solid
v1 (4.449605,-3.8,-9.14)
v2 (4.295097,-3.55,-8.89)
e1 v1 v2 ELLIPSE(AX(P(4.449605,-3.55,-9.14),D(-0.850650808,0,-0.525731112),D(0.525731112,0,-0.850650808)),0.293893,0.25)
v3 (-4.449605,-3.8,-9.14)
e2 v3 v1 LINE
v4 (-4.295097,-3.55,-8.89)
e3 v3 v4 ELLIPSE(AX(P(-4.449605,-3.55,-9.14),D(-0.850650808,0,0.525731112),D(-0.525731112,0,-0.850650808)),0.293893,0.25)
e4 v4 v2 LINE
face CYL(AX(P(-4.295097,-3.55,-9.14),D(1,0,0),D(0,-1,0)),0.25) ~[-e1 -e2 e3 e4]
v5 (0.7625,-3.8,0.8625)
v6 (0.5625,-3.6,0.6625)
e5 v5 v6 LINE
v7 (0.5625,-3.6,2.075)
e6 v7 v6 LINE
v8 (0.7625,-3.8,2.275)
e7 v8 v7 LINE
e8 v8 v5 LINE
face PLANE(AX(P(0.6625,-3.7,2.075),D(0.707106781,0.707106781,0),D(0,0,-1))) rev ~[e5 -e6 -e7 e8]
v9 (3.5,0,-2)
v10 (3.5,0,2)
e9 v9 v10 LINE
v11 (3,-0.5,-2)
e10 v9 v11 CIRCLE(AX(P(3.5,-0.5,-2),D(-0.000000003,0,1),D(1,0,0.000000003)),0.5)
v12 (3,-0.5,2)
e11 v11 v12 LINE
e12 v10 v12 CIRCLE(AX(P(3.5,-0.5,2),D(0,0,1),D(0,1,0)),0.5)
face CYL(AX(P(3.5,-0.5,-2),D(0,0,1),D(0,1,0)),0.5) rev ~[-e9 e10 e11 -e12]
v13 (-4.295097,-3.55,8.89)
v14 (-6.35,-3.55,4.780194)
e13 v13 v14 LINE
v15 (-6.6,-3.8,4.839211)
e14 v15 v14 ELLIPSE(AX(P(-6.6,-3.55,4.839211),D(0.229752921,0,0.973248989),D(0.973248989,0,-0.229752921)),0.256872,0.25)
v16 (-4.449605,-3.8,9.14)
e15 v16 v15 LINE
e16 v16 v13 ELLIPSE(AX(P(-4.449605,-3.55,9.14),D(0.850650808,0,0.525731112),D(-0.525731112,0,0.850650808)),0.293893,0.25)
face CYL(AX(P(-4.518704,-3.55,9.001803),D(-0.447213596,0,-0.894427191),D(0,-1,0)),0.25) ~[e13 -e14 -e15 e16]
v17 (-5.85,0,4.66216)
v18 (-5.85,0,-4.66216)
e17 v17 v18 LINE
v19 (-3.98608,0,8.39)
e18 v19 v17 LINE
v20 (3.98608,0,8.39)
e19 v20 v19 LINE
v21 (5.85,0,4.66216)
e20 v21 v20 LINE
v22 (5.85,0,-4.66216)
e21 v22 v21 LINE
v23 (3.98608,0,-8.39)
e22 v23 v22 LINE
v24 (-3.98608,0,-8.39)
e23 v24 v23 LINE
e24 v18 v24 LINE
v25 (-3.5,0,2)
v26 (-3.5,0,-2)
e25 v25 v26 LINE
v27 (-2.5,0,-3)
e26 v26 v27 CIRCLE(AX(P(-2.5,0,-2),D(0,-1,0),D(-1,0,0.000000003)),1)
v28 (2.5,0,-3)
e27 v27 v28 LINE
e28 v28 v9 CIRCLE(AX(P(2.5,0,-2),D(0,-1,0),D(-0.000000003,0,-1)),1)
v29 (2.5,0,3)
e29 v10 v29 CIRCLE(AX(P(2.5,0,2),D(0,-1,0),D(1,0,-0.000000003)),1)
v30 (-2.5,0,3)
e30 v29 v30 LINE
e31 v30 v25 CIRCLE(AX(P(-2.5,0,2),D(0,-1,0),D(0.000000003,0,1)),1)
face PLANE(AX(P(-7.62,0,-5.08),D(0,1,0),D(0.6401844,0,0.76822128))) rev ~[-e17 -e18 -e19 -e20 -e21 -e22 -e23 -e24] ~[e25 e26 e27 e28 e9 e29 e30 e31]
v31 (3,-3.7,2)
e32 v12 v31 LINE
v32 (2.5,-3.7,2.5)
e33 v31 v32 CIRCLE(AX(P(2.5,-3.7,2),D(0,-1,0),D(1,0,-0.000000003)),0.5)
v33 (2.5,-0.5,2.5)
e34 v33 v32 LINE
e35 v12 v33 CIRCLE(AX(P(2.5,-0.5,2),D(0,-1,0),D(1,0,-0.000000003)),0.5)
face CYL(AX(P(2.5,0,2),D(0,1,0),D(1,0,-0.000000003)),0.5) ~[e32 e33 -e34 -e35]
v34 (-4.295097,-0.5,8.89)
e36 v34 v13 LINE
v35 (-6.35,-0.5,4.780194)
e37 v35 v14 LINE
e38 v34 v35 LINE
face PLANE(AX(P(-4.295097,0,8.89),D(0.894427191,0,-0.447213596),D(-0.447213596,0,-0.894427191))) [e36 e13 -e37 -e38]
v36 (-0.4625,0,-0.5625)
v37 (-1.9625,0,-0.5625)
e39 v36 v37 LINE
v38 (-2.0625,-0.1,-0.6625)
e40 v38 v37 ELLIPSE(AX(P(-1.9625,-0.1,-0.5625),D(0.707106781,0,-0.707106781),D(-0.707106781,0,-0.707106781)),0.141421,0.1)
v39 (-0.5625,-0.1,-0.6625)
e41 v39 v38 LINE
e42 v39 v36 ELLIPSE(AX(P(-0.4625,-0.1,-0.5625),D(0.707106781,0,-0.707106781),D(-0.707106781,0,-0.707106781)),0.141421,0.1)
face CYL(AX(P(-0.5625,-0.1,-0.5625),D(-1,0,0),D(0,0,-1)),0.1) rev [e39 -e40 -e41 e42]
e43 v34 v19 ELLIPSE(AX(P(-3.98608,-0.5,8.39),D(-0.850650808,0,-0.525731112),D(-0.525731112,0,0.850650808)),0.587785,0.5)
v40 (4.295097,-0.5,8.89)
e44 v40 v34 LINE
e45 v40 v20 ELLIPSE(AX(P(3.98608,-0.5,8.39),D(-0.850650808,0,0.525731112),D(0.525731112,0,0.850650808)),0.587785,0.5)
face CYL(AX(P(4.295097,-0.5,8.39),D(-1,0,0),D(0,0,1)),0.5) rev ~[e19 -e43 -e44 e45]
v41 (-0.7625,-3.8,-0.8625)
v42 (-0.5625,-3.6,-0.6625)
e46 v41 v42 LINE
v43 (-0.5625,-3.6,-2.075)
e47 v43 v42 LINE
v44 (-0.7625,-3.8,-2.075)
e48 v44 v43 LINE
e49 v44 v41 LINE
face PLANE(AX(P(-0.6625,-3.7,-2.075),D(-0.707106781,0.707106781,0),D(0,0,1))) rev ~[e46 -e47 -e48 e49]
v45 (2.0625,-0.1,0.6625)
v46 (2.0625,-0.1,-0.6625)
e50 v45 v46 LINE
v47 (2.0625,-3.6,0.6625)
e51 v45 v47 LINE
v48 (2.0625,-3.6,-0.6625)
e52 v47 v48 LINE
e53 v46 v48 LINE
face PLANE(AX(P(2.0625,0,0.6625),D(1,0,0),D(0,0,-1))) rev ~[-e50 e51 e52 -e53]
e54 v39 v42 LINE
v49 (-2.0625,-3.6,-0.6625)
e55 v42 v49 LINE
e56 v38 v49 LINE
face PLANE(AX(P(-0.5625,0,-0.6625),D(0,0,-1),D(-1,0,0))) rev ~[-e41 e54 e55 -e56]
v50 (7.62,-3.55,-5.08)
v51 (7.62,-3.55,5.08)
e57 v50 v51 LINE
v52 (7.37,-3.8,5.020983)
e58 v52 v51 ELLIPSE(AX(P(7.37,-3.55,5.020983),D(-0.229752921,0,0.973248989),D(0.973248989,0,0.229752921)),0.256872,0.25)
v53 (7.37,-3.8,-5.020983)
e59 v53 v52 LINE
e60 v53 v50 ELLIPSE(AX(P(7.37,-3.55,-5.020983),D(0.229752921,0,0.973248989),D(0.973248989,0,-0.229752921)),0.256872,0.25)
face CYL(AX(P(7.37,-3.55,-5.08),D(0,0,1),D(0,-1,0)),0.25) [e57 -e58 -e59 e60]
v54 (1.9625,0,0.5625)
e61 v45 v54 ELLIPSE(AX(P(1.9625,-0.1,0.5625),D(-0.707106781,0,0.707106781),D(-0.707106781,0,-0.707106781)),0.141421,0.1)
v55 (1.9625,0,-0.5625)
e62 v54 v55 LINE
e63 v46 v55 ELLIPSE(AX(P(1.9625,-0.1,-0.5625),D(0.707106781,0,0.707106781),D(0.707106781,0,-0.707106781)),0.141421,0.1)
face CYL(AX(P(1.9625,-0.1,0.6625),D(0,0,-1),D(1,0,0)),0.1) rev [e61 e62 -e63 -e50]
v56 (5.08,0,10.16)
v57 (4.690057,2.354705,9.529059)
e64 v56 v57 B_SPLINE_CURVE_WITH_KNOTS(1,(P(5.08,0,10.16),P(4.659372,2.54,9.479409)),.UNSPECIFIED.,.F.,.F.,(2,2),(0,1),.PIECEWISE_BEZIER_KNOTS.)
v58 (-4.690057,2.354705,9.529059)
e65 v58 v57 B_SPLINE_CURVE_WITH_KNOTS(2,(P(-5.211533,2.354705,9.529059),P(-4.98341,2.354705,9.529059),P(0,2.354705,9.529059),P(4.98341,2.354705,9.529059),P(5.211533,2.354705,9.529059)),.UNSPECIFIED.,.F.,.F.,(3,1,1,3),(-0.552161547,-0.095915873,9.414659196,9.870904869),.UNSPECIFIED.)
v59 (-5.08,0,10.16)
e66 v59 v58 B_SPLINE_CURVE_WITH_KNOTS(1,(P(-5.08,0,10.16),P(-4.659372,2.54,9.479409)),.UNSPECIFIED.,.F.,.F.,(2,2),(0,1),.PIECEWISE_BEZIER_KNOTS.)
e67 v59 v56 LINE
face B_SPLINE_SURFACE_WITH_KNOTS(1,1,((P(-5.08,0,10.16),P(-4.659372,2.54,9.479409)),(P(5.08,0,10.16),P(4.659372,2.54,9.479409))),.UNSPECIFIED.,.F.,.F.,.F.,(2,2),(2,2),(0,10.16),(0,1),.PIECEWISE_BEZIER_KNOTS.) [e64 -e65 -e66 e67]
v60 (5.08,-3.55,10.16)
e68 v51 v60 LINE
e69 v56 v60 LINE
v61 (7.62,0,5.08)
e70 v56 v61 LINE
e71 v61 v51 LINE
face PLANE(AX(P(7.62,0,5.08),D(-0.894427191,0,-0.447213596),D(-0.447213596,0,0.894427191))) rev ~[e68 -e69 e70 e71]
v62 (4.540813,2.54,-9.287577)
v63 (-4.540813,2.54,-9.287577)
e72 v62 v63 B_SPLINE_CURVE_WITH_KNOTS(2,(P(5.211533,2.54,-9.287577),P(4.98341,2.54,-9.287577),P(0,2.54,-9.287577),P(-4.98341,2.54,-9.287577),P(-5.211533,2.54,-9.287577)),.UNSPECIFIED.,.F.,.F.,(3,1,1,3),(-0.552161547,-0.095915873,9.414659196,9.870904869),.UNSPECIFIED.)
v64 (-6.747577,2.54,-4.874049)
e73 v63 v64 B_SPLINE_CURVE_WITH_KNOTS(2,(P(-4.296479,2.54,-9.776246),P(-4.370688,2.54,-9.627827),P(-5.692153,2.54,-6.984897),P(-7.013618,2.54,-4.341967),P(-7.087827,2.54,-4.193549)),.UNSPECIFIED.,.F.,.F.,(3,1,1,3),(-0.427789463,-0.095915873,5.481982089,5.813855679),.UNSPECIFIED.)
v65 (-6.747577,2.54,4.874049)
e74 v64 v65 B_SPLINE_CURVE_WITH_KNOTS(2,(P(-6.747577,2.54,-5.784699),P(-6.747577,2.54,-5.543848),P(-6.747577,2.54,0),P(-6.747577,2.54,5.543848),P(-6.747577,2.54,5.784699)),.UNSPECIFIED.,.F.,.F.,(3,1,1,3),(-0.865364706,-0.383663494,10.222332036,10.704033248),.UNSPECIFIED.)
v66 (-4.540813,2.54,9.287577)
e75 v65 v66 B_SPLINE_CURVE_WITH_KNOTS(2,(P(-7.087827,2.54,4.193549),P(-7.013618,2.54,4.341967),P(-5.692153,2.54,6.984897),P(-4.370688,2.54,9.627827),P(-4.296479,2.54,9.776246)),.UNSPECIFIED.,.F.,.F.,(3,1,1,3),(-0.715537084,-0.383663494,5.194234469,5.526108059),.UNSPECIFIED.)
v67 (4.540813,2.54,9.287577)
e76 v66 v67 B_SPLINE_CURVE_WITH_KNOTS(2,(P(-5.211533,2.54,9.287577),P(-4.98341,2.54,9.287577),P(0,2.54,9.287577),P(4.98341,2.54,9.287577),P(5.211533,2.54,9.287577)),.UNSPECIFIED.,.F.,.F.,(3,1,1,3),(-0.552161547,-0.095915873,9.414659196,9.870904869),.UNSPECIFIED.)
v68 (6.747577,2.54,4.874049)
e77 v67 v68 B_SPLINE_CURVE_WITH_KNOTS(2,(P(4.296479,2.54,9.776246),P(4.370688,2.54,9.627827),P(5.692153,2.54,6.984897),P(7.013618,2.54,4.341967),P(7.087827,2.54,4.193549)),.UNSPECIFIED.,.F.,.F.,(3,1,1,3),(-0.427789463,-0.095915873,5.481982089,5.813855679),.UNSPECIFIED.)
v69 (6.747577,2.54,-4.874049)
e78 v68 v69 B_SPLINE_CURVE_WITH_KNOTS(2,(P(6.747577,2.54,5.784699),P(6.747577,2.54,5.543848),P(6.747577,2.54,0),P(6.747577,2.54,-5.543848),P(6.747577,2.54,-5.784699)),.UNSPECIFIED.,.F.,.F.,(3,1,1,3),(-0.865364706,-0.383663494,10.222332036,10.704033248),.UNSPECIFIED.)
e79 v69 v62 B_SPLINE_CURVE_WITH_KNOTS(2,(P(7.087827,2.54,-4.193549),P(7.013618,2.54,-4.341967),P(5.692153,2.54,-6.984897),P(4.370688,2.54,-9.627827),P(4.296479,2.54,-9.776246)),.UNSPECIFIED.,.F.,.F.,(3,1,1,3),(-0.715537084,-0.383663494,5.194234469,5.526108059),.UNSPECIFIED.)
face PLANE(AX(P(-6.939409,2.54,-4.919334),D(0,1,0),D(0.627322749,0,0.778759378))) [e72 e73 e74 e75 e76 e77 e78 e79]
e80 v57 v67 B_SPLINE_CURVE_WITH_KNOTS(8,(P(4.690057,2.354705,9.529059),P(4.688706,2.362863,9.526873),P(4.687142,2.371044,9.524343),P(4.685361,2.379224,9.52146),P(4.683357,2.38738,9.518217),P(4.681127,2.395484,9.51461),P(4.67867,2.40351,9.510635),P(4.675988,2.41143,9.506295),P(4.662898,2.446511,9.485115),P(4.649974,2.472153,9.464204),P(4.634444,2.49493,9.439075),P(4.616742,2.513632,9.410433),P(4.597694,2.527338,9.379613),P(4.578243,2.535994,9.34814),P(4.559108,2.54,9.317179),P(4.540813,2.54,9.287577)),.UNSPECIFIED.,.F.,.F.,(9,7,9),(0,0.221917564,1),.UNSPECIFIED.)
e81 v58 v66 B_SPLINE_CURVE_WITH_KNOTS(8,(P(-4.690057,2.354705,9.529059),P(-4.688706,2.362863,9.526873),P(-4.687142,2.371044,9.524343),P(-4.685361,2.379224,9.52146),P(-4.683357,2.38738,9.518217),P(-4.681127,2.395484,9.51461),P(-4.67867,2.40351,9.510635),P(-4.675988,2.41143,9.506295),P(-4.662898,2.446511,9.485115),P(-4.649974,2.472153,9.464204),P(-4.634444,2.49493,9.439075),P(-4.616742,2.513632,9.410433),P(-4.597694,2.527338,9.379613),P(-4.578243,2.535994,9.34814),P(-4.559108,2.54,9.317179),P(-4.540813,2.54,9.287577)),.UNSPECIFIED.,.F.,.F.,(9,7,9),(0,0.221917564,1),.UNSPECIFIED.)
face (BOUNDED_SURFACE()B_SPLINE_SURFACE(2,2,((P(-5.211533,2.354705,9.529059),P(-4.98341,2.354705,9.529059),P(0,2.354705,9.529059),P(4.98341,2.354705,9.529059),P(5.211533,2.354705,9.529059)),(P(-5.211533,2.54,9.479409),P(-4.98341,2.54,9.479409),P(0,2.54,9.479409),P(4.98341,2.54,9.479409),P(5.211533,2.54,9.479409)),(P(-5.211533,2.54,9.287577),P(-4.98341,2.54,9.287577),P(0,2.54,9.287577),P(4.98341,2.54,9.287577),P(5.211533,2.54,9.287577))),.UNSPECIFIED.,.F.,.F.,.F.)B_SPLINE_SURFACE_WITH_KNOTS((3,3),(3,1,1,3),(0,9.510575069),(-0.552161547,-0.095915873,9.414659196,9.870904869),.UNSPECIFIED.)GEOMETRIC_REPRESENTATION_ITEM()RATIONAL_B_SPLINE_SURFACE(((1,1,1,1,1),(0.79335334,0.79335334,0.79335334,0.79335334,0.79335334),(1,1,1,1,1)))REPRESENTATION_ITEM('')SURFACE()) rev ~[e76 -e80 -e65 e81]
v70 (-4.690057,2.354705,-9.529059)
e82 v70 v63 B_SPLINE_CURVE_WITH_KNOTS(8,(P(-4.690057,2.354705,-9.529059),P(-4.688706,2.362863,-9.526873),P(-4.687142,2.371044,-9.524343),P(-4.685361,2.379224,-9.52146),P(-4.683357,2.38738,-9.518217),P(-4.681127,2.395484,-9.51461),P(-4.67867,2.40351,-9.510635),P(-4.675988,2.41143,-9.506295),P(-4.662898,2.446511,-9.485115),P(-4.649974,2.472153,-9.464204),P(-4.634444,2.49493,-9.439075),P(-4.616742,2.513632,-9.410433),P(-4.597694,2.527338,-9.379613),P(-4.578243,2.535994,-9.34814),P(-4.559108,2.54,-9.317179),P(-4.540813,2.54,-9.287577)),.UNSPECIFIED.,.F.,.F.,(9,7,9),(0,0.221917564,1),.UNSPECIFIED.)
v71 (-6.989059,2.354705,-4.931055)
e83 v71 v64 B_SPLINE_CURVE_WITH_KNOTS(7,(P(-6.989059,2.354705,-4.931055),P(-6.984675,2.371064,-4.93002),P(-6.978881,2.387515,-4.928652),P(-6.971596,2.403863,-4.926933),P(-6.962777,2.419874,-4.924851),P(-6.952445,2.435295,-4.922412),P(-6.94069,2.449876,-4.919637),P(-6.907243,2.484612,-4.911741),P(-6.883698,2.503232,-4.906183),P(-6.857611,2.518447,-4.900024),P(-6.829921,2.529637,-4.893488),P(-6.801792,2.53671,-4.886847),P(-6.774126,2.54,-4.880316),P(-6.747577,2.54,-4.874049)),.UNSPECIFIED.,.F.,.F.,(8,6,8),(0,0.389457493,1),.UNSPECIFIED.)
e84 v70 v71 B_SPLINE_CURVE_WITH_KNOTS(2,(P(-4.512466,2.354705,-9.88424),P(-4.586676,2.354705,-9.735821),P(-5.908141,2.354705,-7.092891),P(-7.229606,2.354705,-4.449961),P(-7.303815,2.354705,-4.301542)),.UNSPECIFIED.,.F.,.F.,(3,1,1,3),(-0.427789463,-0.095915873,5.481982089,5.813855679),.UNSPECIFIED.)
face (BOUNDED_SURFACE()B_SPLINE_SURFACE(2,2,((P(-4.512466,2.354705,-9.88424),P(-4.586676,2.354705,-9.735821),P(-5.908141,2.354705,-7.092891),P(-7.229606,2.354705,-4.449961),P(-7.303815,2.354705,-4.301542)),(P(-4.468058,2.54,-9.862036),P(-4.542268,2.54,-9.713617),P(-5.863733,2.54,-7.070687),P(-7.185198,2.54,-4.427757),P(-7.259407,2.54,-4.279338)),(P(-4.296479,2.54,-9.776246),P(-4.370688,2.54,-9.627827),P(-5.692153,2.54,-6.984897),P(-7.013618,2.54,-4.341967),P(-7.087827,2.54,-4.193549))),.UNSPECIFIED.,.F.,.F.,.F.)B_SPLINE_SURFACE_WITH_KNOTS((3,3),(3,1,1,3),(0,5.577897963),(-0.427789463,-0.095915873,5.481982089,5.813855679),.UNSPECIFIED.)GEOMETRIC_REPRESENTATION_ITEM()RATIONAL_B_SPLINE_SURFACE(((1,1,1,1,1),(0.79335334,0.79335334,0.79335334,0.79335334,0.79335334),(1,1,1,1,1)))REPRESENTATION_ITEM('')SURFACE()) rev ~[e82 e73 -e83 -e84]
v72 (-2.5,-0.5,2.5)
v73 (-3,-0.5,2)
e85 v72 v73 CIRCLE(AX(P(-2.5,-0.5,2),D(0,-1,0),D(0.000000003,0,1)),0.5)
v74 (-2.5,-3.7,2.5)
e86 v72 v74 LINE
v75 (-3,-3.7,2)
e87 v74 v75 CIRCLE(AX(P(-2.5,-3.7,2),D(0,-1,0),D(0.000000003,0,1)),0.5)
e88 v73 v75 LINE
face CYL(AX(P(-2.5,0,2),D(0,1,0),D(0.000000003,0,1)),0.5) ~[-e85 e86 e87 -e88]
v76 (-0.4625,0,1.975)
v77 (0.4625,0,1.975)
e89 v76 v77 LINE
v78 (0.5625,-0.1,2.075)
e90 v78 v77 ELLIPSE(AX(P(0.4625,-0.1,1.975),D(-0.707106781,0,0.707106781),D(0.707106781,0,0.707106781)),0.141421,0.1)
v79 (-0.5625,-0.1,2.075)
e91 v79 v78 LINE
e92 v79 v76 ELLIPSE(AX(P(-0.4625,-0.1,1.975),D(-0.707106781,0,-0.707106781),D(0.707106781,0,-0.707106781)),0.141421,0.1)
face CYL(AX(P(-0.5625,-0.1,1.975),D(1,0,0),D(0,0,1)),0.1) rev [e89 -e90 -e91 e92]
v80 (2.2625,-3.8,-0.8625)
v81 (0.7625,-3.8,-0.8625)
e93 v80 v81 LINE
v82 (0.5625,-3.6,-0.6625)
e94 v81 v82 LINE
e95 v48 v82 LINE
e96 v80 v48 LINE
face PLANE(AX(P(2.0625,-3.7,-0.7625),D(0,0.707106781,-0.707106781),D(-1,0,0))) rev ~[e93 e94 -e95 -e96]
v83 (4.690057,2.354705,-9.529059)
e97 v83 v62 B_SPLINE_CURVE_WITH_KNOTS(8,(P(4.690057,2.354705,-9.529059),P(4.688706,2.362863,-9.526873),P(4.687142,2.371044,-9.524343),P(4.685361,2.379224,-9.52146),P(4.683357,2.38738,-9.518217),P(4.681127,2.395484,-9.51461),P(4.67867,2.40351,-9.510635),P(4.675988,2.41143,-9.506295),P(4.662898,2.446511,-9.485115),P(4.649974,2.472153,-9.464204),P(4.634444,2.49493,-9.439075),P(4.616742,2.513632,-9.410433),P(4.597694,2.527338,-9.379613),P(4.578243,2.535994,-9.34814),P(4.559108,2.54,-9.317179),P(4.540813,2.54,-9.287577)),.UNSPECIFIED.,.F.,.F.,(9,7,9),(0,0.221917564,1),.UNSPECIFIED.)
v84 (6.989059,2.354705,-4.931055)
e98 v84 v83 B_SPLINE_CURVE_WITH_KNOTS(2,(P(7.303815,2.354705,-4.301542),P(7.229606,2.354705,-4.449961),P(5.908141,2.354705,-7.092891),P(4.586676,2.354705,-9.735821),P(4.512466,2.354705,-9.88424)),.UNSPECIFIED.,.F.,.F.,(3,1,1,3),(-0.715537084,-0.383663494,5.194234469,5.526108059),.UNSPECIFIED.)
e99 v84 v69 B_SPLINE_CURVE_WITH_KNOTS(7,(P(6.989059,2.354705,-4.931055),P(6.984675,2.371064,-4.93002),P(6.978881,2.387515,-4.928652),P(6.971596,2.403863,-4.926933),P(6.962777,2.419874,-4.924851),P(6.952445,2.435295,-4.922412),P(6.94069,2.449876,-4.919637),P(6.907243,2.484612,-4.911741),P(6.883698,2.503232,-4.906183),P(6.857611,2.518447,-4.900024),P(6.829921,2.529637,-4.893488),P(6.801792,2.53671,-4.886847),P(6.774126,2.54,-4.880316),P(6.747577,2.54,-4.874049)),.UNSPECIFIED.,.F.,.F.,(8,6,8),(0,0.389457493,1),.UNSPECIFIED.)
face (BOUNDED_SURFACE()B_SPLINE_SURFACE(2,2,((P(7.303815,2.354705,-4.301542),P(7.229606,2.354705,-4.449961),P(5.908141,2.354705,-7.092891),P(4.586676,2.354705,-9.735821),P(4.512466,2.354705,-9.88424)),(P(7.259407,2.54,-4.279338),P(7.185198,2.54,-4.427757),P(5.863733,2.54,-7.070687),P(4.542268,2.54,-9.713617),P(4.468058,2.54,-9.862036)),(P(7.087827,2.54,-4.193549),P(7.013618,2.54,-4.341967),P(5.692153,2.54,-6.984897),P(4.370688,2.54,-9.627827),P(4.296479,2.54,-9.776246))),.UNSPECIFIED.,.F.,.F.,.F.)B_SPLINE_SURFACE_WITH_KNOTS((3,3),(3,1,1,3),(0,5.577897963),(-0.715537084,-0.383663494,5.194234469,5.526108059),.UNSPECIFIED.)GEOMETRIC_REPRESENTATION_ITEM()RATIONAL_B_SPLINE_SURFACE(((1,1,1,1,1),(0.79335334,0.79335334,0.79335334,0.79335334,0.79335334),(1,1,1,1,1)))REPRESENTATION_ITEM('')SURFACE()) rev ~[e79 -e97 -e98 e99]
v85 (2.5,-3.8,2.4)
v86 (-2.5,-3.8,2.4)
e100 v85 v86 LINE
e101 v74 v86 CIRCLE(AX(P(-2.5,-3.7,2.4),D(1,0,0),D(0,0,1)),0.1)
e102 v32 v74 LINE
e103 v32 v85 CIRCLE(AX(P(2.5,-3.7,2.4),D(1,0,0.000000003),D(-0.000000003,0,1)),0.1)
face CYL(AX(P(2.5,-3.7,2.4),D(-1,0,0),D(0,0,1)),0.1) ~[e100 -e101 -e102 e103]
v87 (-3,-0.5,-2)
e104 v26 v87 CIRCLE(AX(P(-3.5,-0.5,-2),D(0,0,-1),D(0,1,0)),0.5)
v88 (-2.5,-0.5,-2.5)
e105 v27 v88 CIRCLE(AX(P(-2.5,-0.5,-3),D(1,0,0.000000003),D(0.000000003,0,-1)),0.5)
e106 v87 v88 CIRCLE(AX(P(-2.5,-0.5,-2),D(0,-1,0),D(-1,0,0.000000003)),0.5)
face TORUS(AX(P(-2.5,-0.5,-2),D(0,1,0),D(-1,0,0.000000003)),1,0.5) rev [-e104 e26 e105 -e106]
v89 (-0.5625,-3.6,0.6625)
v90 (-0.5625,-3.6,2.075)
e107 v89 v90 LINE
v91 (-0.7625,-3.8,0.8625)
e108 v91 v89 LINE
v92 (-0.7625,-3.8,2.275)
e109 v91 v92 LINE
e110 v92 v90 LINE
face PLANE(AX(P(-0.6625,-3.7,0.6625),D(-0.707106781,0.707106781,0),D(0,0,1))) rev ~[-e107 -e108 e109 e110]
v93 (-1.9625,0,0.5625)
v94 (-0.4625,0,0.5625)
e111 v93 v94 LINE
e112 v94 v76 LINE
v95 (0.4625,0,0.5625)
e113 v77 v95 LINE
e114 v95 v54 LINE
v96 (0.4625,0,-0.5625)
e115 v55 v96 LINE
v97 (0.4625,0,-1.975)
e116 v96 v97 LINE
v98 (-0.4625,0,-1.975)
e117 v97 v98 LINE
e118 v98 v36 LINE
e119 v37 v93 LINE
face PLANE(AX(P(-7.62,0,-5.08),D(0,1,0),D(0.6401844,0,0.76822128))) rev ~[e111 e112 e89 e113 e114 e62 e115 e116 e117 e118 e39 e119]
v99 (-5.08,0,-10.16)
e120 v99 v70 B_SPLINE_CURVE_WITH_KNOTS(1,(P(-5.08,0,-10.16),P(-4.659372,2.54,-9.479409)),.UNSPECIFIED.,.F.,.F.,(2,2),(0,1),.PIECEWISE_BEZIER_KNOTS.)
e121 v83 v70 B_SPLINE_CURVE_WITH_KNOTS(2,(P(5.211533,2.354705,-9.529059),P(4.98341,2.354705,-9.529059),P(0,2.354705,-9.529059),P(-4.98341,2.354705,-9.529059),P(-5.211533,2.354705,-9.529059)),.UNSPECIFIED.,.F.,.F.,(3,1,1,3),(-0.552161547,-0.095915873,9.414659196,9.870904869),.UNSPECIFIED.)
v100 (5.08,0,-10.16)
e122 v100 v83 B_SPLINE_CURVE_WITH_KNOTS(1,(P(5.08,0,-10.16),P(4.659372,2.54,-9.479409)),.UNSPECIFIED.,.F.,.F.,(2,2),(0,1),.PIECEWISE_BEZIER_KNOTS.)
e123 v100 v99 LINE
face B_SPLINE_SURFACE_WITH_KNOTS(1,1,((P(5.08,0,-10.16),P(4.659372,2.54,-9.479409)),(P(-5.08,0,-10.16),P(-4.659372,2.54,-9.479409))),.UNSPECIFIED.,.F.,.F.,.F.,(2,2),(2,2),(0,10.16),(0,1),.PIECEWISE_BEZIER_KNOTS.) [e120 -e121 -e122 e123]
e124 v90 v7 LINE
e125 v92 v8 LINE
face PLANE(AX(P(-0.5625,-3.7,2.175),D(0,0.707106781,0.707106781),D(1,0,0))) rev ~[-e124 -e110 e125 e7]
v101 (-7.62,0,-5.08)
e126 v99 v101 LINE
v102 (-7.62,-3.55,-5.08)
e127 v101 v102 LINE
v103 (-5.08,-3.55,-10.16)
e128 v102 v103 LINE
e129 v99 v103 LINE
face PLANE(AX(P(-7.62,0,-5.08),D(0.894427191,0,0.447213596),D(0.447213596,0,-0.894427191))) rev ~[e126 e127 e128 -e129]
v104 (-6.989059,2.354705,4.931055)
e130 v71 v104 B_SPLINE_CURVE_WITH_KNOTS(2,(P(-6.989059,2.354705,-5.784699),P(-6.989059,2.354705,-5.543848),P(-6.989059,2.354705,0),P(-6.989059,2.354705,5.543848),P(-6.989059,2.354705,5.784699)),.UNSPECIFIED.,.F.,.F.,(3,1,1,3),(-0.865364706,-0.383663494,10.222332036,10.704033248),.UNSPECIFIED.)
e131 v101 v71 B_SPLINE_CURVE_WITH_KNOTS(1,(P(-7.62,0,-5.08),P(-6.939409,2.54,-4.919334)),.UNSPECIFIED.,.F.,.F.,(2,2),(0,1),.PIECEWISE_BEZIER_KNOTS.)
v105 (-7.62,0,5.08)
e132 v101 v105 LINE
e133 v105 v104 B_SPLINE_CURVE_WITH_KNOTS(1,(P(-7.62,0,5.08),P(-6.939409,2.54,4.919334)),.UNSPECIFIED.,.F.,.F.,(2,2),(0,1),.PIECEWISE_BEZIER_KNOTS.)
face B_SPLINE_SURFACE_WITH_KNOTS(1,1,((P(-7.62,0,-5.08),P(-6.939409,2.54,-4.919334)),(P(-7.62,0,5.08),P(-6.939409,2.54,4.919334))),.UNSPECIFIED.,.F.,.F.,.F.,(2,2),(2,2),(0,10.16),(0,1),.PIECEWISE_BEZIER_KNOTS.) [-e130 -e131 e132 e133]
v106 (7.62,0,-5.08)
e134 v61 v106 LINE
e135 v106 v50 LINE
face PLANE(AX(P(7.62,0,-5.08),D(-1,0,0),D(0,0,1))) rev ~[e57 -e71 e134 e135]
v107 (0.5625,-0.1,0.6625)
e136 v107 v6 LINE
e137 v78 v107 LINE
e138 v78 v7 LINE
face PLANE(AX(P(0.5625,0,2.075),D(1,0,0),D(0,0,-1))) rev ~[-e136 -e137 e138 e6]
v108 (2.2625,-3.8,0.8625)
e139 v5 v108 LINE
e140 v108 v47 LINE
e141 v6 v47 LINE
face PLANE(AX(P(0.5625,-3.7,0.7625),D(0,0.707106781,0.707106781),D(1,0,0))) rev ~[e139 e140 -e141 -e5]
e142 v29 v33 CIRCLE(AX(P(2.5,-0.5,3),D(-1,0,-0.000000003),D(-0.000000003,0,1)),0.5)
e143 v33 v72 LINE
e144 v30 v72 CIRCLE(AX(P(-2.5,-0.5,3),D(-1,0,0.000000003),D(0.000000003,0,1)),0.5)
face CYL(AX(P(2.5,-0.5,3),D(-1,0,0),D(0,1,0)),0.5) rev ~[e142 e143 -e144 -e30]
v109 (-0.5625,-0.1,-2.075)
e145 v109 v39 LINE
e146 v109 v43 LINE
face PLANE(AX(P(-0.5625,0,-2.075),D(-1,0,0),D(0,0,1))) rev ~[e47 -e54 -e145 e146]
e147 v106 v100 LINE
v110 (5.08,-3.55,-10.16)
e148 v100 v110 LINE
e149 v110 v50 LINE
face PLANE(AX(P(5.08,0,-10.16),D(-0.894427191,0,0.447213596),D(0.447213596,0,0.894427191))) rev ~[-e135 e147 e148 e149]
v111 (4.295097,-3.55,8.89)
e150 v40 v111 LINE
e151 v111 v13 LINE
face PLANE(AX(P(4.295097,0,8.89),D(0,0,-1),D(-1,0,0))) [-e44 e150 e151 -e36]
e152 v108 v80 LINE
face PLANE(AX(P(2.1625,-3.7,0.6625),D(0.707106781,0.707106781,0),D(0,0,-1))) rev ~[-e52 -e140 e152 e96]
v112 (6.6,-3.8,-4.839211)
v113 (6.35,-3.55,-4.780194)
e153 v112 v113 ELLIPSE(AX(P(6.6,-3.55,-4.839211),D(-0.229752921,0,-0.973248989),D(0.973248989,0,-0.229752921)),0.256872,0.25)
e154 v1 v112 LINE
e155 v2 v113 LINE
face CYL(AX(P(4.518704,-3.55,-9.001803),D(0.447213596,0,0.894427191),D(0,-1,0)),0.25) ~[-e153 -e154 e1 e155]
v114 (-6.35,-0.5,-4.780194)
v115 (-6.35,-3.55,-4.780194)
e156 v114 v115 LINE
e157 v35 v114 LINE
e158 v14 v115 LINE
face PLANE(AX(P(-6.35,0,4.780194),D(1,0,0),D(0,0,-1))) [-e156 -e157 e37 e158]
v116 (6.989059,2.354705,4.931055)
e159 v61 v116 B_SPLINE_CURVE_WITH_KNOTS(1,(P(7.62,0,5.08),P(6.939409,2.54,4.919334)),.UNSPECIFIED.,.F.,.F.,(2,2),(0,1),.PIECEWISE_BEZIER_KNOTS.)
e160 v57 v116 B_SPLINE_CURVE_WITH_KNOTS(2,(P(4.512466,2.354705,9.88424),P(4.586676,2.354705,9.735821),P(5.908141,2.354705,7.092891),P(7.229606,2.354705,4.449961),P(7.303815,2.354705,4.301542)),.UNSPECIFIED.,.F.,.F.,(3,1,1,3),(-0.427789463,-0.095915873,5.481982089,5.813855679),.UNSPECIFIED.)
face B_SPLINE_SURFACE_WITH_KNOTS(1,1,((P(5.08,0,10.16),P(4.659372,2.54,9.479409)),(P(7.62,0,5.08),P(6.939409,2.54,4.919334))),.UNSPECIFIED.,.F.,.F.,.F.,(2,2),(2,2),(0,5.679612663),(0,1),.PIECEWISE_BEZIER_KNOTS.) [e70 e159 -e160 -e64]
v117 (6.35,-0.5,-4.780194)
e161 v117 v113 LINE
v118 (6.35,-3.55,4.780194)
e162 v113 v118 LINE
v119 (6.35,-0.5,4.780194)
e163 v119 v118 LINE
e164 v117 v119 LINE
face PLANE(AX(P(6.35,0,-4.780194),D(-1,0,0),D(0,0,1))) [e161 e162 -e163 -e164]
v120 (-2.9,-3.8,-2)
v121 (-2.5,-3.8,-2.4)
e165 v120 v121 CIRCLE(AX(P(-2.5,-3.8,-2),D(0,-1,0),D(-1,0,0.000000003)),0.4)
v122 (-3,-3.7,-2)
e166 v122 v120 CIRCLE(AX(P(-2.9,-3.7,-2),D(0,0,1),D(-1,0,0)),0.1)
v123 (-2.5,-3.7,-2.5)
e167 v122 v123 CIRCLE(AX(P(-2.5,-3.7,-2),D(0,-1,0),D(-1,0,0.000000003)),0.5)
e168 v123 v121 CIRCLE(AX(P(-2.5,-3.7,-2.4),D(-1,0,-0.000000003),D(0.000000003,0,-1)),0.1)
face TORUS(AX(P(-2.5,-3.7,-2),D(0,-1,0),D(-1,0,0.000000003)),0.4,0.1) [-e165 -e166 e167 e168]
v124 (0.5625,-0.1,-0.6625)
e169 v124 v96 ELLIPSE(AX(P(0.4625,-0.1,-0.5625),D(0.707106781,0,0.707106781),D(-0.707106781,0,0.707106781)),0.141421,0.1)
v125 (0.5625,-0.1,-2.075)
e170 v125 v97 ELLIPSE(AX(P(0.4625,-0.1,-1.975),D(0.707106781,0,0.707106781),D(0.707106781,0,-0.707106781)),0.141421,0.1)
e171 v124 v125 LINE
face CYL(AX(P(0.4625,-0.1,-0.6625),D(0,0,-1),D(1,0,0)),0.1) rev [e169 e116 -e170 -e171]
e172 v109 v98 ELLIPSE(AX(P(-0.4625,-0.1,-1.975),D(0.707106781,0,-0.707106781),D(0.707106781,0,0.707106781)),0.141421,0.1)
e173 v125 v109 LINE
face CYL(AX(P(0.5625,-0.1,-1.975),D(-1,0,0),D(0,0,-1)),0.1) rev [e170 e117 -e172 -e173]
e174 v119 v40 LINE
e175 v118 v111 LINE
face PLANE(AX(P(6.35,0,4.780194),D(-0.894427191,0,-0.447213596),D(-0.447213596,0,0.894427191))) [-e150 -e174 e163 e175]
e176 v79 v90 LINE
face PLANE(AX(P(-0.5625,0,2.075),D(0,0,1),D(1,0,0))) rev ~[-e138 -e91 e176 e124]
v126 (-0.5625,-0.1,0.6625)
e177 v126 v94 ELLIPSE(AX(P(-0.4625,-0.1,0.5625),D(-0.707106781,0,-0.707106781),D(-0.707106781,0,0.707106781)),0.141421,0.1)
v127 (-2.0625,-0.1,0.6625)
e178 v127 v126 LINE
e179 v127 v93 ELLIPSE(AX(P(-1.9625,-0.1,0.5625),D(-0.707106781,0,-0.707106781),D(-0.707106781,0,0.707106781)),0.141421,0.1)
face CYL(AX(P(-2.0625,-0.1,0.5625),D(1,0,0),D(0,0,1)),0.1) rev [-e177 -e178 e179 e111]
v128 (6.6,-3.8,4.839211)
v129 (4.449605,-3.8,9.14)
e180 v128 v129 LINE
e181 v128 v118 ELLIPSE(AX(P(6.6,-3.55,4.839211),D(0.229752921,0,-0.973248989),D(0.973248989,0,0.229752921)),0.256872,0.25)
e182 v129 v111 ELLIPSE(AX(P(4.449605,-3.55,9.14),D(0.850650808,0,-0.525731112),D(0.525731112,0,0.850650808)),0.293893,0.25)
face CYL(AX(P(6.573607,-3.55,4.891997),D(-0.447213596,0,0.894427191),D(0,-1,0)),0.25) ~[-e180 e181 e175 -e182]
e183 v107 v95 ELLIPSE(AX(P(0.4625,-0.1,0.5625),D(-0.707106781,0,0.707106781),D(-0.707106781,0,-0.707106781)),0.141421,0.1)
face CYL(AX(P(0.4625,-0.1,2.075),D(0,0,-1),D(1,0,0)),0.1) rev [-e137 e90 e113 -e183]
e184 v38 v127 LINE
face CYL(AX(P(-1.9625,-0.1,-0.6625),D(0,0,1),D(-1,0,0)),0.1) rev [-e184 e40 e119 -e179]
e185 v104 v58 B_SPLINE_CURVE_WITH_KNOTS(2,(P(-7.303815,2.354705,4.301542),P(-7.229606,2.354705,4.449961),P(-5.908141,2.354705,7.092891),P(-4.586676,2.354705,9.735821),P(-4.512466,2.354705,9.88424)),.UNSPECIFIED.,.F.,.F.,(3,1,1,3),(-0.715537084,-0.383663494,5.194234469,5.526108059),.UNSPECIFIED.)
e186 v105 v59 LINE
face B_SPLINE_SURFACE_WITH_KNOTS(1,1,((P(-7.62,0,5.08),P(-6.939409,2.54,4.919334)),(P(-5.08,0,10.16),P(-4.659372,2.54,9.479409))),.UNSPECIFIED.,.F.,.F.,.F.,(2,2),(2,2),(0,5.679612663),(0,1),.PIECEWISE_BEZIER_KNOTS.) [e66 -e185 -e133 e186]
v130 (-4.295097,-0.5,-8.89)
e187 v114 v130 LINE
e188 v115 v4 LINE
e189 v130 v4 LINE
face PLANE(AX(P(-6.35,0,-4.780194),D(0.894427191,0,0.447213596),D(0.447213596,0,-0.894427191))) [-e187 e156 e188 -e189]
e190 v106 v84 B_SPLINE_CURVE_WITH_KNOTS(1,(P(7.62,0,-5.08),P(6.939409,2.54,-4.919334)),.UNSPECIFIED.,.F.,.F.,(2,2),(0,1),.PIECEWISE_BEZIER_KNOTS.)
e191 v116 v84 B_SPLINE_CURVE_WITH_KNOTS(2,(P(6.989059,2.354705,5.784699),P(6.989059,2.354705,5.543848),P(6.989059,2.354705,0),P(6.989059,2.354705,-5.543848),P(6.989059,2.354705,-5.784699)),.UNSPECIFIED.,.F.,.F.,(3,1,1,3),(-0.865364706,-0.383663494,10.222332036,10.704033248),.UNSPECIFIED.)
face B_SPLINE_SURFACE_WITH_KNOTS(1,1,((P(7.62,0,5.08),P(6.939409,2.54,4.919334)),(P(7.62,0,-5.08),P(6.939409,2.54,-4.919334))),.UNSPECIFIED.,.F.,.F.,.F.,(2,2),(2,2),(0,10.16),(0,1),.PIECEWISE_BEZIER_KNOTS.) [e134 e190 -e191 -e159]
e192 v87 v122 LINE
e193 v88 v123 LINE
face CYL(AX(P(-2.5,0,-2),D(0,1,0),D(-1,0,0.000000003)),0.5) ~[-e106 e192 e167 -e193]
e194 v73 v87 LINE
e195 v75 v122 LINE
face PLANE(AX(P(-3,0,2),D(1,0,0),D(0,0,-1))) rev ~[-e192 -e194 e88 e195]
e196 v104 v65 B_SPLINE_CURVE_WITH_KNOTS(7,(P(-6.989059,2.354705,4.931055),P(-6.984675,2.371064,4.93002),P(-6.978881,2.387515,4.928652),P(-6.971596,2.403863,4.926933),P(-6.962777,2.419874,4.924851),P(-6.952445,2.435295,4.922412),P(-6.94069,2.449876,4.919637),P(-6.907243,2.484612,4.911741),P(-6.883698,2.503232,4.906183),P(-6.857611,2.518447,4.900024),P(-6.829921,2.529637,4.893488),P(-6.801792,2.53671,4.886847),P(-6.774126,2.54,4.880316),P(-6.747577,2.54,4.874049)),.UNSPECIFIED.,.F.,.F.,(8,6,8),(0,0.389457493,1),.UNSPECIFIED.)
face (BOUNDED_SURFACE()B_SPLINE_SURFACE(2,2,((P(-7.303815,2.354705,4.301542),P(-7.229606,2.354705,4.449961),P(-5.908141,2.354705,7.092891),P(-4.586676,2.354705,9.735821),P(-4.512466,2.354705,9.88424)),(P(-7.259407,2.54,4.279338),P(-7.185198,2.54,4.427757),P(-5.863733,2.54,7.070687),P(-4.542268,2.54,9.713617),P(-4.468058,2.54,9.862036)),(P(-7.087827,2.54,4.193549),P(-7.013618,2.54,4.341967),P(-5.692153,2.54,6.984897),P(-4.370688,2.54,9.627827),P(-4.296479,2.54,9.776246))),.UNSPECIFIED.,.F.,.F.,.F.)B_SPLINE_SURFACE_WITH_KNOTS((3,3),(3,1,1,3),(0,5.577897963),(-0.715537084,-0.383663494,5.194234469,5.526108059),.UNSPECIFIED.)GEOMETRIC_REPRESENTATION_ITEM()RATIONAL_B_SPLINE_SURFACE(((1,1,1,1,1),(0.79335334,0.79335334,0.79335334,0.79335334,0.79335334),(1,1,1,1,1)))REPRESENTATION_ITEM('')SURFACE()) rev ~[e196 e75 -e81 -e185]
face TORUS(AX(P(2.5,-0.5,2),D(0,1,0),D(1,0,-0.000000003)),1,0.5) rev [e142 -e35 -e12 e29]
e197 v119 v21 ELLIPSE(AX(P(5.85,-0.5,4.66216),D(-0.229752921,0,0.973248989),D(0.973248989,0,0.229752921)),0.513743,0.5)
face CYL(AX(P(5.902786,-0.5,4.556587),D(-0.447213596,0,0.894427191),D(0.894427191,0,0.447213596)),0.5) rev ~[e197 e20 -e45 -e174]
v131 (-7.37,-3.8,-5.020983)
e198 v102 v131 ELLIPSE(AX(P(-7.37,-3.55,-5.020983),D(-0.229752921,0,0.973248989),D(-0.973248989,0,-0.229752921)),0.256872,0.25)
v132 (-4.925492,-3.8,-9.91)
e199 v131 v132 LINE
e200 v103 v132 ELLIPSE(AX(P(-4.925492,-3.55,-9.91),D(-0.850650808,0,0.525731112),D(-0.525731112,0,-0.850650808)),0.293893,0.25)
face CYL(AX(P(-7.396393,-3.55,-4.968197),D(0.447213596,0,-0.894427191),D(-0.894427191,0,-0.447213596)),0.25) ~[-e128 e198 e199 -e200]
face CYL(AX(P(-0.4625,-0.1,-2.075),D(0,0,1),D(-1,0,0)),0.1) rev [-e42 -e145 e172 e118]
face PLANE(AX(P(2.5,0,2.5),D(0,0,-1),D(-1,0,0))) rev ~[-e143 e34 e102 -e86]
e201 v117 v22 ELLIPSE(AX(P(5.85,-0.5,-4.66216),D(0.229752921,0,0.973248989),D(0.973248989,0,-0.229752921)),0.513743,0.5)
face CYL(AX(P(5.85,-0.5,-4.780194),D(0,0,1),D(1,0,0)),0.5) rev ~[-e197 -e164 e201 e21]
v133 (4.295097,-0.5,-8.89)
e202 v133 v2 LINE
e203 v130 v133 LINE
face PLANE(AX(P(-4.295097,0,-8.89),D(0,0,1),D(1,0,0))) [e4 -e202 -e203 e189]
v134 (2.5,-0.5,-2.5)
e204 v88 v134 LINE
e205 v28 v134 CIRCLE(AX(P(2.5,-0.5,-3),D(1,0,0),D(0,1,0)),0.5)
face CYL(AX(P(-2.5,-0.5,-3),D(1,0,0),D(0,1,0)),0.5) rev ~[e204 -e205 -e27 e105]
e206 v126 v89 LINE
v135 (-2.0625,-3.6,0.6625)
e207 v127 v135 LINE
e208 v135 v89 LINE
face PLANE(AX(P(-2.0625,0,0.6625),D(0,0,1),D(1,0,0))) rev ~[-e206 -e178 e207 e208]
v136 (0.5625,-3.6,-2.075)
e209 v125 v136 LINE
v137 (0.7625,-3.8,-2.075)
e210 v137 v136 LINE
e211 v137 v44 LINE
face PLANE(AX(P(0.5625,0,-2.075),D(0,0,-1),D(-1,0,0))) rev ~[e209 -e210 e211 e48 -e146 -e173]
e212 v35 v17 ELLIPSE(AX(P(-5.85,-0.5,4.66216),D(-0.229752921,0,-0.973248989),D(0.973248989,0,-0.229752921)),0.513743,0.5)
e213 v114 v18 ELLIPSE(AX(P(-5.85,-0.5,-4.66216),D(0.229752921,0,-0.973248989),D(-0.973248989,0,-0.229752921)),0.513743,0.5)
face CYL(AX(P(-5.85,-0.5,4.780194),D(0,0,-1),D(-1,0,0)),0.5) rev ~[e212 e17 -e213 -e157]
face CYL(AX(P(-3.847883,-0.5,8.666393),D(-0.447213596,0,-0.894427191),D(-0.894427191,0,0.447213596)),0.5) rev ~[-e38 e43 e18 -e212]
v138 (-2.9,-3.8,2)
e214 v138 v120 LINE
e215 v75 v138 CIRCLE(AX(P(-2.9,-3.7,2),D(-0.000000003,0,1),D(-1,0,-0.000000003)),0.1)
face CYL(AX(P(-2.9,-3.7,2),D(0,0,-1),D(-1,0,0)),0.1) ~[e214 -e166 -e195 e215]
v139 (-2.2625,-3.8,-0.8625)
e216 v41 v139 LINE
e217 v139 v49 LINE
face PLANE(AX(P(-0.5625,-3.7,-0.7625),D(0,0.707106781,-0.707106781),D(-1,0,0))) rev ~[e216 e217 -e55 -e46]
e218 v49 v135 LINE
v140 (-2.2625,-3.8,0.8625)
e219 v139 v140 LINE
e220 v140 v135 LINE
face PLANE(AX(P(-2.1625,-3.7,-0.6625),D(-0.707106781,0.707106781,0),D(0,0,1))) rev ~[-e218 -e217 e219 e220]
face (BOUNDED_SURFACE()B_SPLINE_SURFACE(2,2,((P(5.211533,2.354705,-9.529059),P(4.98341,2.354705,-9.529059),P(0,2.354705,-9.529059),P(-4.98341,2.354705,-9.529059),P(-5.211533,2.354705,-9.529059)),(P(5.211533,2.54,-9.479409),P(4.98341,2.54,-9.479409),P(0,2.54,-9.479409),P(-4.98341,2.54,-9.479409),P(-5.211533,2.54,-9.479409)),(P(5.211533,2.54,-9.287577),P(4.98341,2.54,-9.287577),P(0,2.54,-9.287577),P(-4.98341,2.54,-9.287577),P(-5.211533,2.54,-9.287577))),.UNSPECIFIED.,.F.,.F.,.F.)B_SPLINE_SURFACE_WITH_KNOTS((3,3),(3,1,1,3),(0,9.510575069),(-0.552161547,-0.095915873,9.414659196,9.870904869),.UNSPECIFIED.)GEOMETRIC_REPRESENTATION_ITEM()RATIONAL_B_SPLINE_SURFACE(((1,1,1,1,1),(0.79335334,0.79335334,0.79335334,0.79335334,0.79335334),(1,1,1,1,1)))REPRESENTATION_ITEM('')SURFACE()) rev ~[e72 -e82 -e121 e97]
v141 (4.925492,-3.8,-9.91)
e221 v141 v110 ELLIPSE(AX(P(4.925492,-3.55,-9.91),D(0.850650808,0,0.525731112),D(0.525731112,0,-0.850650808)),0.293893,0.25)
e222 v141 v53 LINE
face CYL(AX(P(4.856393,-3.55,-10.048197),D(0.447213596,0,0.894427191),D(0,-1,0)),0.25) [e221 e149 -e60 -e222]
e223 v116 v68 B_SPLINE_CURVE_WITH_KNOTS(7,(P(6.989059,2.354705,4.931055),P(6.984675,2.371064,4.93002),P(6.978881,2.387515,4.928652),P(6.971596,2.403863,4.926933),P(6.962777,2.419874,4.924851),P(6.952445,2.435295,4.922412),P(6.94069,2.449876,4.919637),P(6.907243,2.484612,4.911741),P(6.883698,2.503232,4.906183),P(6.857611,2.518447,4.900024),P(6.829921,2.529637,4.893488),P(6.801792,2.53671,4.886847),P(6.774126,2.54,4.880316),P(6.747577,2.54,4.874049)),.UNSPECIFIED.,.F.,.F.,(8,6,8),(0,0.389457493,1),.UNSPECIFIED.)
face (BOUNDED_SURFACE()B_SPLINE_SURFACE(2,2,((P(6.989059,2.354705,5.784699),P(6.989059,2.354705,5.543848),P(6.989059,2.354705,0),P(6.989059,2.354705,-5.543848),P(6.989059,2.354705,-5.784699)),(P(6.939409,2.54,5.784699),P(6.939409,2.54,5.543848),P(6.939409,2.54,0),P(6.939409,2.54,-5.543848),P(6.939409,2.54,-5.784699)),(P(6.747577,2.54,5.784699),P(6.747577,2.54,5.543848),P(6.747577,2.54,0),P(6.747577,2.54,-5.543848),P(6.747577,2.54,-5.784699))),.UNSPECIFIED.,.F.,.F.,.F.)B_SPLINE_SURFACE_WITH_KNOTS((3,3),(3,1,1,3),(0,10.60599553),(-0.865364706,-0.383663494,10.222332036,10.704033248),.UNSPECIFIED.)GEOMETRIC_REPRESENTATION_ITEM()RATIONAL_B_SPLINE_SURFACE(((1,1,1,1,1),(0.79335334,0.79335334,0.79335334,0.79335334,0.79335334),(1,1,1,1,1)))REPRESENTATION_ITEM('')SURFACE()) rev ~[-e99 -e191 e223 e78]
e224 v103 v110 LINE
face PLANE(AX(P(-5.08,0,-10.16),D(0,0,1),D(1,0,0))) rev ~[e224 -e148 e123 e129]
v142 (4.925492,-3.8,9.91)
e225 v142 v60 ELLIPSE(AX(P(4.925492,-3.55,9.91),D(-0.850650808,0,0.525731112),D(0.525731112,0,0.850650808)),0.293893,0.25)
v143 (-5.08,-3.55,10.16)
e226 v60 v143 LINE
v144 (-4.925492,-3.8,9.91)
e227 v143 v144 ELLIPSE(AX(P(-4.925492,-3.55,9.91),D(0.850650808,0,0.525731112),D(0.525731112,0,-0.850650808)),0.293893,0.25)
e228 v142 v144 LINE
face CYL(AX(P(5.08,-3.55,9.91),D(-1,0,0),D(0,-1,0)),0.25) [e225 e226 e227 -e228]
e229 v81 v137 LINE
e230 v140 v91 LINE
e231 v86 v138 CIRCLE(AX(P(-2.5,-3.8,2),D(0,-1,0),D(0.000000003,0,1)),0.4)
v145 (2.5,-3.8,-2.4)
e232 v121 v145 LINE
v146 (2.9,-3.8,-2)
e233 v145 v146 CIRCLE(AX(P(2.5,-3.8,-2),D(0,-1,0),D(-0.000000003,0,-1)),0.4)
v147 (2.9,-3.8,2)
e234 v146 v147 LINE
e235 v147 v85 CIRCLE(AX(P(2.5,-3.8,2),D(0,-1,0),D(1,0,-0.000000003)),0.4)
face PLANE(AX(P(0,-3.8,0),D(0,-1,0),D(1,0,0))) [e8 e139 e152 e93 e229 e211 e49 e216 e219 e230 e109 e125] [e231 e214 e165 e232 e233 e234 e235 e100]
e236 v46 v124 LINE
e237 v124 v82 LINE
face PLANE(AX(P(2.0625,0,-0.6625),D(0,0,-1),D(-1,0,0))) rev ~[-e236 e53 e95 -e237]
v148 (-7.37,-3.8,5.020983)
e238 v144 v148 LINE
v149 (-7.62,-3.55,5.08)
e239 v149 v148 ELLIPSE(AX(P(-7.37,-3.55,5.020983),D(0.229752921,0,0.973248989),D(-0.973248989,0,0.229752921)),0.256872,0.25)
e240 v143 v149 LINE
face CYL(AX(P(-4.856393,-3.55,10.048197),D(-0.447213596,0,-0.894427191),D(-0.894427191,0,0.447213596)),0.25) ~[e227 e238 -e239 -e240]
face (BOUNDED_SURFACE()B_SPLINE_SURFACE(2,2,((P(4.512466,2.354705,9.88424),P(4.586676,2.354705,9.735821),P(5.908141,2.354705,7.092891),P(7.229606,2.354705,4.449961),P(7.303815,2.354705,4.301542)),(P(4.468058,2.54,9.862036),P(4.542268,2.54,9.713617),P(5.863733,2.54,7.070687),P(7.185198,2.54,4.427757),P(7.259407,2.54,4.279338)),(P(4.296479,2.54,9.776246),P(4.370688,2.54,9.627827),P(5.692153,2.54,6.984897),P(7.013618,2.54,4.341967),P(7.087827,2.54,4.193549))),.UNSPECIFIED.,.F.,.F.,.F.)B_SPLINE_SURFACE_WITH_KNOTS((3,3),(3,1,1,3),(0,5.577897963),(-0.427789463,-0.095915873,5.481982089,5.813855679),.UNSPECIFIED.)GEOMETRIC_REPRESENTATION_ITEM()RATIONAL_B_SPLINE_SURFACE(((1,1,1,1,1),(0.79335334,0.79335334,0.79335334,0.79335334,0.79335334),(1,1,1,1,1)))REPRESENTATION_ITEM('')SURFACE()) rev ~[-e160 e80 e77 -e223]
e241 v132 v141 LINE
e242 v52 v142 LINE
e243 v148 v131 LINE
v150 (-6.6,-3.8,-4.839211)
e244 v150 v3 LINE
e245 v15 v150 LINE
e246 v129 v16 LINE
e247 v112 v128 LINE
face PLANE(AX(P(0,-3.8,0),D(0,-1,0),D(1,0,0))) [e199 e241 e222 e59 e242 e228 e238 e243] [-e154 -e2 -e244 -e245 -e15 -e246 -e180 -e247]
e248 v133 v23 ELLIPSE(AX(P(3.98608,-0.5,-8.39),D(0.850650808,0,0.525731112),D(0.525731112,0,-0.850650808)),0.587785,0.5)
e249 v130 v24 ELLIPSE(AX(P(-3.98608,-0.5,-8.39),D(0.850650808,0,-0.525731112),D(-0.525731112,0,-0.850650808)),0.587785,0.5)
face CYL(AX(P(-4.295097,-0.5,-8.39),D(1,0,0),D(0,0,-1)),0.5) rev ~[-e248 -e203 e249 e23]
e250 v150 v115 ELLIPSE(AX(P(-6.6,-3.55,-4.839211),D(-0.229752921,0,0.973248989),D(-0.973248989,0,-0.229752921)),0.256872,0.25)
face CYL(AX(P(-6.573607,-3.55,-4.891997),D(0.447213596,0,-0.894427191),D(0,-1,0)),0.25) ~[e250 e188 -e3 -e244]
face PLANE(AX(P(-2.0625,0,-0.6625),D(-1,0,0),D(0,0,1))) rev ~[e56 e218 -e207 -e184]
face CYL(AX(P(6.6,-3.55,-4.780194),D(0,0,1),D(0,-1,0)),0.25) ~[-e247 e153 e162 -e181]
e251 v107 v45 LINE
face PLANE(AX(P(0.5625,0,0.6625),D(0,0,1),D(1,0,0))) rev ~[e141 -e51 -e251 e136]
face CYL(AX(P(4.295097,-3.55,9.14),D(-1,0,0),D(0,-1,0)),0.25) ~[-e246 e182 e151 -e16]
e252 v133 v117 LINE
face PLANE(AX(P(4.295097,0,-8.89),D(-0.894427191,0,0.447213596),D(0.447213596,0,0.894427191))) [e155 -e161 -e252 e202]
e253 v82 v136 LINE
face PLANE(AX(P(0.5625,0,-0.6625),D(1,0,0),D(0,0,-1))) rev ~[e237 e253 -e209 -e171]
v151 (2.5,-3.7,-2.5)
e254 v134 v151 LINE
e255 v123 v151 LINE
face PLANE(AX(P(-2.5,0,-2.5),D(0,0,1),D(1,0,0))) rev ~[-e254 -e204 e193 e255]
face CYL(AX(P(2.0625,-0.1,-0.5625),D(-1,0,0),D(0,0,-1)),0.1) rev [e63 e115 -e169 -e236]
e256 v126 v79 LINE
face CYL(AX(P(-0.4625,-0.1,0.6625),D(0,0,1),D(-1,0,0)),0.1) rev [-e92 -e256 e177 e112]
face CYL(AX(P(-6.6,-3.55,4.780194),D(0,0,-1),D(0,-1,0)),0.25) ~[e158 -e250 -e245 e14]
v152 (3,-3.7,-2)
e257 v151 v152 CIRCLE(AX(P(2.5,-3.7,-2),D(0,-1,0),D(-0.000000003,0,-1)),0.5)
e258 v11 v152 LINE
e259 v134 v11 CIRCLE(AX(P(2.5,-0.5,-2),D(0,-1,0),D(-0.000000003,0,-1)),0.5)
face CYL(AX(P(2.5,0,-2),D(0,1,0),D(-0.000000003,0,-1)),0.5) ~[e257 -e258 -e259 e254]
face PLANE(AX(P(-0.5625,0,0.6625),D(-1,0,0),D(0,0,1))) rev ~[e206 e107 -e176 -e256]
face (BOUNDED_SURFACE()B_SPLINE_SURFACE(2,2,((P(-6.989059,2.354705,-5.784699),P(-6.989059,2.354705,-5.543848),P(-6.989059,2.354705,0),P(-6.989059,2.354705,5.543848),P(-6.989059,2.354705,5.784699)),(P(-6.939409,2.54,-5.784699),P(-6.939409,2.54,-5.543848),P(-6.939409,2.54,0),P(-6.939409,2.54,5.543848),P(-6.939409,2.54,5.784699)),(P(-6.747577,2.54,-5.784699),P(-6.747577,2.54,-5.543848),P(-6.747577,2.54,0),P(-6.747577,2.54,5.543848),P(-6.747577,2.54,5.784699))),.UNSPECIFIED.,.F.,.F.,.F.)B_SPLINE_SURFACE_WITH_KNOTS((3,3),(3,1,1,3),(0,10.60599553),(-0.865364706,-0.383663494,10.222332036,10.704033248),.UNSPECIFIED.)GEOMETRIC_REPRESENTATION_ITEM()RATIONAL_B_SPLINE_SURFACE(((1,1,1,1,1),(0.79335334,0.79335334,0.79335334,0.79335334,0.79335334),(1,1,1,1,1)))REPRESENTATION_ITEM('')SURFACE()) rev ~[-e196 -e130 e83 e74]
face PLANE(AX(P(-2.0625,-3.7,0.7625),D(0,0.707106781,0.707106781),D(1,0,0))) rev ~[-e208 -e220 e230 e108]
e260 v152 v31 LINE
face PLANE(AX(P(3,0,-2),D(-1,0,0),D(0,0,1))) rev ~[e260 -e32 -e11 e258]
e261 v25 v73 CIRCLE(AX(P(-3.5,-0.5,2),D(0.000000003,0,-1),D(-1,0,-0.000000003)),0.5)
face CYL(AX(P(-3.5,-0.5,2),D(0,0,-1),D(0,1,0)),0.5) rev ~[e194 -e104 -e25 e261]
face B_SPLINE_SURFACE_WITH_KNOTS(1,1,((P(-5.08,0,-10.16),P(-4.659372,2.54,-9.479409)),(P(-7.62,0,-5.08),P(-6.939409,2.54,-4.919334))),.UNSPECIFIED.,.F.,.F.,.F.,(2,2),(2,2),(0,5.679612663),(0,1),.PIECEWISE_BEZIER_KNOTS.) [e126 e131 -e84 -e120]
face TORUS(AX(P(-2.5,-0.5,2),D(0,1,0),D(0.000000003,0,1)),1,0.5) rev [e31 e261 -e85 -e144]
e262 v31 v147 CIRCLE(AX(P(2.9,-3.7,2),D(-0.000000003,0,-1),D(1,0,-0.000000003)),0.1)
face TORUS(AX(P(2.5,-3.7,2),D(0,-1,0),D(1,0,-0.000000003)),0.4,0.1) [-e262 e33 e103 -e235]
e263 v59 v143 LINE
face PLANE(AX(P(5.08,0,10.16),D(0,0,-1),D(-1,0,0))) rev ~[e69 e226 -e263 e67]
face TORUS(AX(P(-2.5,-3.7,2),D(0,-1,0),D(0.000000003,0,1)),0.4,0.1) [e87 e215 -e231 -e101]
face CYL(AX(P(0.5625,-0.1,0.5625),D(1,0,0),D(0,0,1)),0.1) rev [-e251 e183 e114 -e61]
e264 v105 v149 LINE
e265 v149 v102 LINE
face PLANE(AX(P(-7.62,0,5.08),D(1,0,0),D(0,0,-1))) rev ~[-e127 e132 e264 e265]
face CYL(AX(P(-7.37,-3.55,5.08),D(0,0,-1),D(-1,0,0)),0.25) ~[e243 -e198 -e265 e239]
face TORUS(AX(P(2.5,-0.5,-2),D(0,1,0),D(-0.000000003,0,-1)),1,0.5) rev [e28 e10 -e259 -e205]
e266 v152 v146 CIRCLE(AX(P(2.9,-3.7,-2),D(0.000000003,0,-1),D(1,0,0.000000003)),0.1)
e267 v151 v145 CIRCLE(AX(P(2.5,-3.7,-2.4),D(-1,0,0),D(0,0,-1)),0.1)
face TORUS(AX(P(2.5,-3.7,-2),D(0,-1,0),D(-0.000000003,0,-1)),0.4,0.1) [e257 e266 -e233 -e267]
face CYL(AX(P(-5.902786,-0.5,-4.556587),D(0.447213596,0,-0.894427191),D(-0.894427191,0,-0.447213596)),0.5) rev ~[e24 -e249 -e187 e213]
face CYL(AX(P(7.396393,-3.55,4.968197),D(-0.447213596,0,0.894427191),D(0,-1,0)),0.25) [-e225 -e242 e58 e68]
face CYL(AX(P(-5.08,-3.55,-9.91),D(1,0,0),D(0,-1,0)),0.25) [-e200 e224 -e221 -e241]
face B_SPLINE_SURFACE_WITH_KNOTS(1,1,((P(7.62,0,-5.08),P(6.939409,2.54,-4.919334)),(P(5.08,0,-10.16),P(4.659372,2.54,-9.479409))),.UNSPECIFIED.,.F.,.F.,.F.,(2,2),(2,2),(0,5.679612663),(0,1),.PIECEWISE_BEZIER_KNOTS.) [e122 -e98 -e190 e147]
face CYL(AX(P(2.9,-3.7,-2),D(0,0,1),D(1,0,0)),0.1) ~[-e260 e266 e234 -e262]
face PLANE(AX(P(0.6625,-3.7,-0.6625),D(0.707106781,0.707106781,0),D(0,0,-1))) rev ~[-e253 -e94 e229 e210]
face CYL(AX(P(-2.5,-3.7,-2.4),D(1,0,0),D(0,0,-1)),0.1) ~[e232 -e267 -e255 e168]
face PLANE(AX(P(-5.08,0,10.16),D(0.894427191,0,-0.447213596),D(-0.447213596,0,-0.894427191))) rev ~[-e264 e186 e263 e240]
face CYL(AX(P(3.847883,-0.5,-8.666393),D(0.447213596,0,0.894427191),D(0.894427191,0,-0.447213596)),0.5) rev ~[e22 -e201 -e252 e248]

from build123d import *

# Parameters (mm, degrees)
BOSS_EXTRUDE1_DEPTH = 2.54
BOSS_EXTRUDE1_TAPER = 15
BOSS_EXTRUDE2_DEPTH = 3.8
FILLET2_R           = 0.1
CHAMFER1_SIZE       = 0.2
BOSS_EXTRUDE3_DEPTH = 3.8
FILLET3_R           = 0.25
FILLET5_R           = 0.5
FILLET6_R           = 0.1
FILLET7_R           = 0.25


with BuildPart() as part:
    # Sketch1 → Boss-Extrude1 (new body)
    with BuildSketch(Plane(origin=(0, 0, 0), x_dir=(1, 0, 0), z_dir=(0, 1, 0))):
        Polygon((-7.62, 5.08), (-7.62, -5.08), (-5.08, -10.16), (5.08, -10.16), (7.62, -5.08), (7.62, 5.08), (5.08, 10.16), (-5.08, 10.16), align=None)
    extrude(amount=BOSS_EXTRUDE1_DEPTH, taper=BOSS_EXTRUDE1_TAPER)

    # Stem → Boss-Extrude2 (add)
    with BuildSketch(Plane.XZ):
        with BuildLine():
            Line((2.499999969, 2.5), (-2.499999969, 2.5))
            ThreePointArc((-2.499999969, 2.5), (-2.85355336, 2.353553391), (-2.999999969, 2))
            Line((-2.999999969, 2), (-2.999999969, -2))
            ThreePointArc((-2.999999969, -2), (-2.85355336, -2.353553391), (-2.499999969, -2.5))
            Line((-2.499999969, -2.5), (2.499999969, -2.5))
            ThreePointArc((2.499999969, -2.5), (2.85355336, -2.353553391), (2.999999969, -2))
            Line((2.999999969, -2), (2.999999969, 2))
            ThreePointArc((2.999999969, 2), (2.85355336, 2.353553391), (2.499999969, 2.5))
        make_face()
        Polygon((-0.5625, 0.6625), (-0.5625, 2.075), (0.5625, 2.075), (0.5625, 0.6625), (2.0625, 0.6625), (2.0625, -0.6625), (0.5625, -0.6625), (0.5625, -2.075), (-0.5625, -2.075), (-0.5625, -0.6625), (-2.0625, -0.6625), (-2.0625, 0.6625), align=None, mode=Mode.SUBTRACT)
    extrude(amount=BOSS_EXTRUDE2_DEPTH)

    # Fillet2
    fillet2_edges = [part.edges().sort_by_distance(p)[0] for p in [
        (2.85355336, -3.8, 2.353553391),
        (0, -3.8, 2.5),
        (2.999999969, -3.8, 0),
        (-2.85355336, -3.8, 2.353553391),
        (-2.999999969, -3.8, 0),
        (-2.85355336, -3.8, -2.353553391),
        (0, -3.8, -2.5),
        (2.85355336, -3.8, -2.353553391),
    ]]
    fillet(fillet2_edges, radius=FILLET2_R)

    # Chamfer1
    chamfer1_edges = [part.edges().sort_by_distance(p)[0] for p in [
        (-2.0625, -3.8, 0),
        (-1.3125, -3.8, 0.6625),
        (-0.5625, -3.8, 1.36875),
        (1.3125, -3.8, 0.6625),
        (-0.5625, -3.8, -1.36875),
        (0, -3.8, 2.075),
        (0.5625, -3.8, 1.36875),
        (2.0625, -3.8, 0),
        (1.3125, -3.8, -0.6625),
        (0.5625, -3.8, -1.36875),
        (-1.3125, -3.8, -0.6625),
    ]]
    chamfer(chamfer1_edges, length=CHAMFER1_SIZE)

    # Sketch3 → Boss-Extrude3 (add)
    with BuildSketch(Plane.XZ):
        Polygon((-7.62, 5.08), (-7.62, -5.08), (-5.08, -10.16), (5.08, -10.16), (7.62, -5.08), (7.62, 5.08), (5.08, 10.16), (-5.08, 10.16), align=None)
        Polygon((-6.35, -4.780193669), (-4.295096834, -8.89), (4.295096834, -8.89), (6.35, -4.780193669), (6.35, 4.780193669), (4.295096834, 8.89), (-4.295096834, 8.89), (-6.35, 4.780193669), align=None, mode=Mode.SUBTRACT)
    extrude(amount=BOSS_EXTRUDE3_DEPTH)

    # Fillet3
    fillet3_edges = [part.edges().sort_by_distance(p)[0] for p in [
        (-6.35, -3.8, 7.62),
        (-7.62, -3.8, 0),
        (-6.35, -3.8, -7.62),
        (0, -3.8, -10.16),
        (6.35, -3.8, -7.62),
        (7.62, -3.8, 0),
        (6.35, -3.8, 7.62),
        (0, -3.8, 10.16),
        (-6.35, -3.8, 0),
        (-5.322548417, -3.8, -6.835096834),
        (0, -3.8, -8.89),
        (5.322548417, -3.8, -6.835096834),
        (6.35, -3.8, 0),
        (5.322548417, -3.8, 6.835096834),
        (0, -3.8, 8.89),
        (-5.322548417, -3.8, 6.835096834),
    ]]
    fillet(fillet3_edges, radius=FILLET3_R)

    # Fillet5
    fillet5_edges = [part.edges().sort_by_distance(p)[0] for p in [
        (-6.35, 0, 0),
        (-5.322548417, 0, -6.835096834),
        (0, 0, -8.89),
        (5.322548417, 0, -6.835096834),
        (6.35, 0, 0),
        (5.322548417, 0, 6.835096834),
        (0, 0, 8.89),
        (-5.322548417, 0, 6.835096834),
        (-2.85355336, 0, 2.353553391),
        (-2.999999969, 0, 0),
        (-2.85355336, 0, -2.353553391),
        (0, 0, -2.5),
        (2.85355336, 0, -2.353553391),
        (2.85355336, 0, 2.353553391),
        (2.999999969, 0, 0),
        (0, 0, 2.5),
    ]]
    fillet(fillet5_edges, radius=FILLET5_R)

    # Fillet6
    fillet6_edges = [part.edges().sort_by_distance(p)[0] for p in [
        (0, 0, 2.075),
        (0.5625, 0, 1.36875),
        (2.0625, 0, 0),
        (1.3125, 0, -0.6625),
        (0.5625, 0, -1.36875),
        (-1.3125, 0, -0.6625),
        (-2.0625, 0, 0),
        (-0.5625, 0, -1.36875),
        (0, 0, -2.075),
        (1.3125, 0, 0.6625),
        (-0.5625, 0, 1.36875),
        (-1.3125, 0, 0.6625),
    ]]
    fillet(fillet6_edges, radius=FILLET6_R)

    # Fillet7
    fillet7_edges = [part.edges().sort_by_distance(p)[0] for p in [
        (-6.939409051, 2.54, 0),
        (-5.799390356, 2.54, 7.199371661),
        (0, 2.54, 9.479409051),
        (5.799390356, 2.54, 7.199371661),
        (6.939409051, 2.54, 0),
        (5.799390356, 2.54, -7.199371661),
        (0, 2.54, -9.479409051),
        (-5.799390356, 2.54, -7.199371661),
    ]]
    fillet(fillet7_edges, radius=FILLET7_R)


solid = part.part
